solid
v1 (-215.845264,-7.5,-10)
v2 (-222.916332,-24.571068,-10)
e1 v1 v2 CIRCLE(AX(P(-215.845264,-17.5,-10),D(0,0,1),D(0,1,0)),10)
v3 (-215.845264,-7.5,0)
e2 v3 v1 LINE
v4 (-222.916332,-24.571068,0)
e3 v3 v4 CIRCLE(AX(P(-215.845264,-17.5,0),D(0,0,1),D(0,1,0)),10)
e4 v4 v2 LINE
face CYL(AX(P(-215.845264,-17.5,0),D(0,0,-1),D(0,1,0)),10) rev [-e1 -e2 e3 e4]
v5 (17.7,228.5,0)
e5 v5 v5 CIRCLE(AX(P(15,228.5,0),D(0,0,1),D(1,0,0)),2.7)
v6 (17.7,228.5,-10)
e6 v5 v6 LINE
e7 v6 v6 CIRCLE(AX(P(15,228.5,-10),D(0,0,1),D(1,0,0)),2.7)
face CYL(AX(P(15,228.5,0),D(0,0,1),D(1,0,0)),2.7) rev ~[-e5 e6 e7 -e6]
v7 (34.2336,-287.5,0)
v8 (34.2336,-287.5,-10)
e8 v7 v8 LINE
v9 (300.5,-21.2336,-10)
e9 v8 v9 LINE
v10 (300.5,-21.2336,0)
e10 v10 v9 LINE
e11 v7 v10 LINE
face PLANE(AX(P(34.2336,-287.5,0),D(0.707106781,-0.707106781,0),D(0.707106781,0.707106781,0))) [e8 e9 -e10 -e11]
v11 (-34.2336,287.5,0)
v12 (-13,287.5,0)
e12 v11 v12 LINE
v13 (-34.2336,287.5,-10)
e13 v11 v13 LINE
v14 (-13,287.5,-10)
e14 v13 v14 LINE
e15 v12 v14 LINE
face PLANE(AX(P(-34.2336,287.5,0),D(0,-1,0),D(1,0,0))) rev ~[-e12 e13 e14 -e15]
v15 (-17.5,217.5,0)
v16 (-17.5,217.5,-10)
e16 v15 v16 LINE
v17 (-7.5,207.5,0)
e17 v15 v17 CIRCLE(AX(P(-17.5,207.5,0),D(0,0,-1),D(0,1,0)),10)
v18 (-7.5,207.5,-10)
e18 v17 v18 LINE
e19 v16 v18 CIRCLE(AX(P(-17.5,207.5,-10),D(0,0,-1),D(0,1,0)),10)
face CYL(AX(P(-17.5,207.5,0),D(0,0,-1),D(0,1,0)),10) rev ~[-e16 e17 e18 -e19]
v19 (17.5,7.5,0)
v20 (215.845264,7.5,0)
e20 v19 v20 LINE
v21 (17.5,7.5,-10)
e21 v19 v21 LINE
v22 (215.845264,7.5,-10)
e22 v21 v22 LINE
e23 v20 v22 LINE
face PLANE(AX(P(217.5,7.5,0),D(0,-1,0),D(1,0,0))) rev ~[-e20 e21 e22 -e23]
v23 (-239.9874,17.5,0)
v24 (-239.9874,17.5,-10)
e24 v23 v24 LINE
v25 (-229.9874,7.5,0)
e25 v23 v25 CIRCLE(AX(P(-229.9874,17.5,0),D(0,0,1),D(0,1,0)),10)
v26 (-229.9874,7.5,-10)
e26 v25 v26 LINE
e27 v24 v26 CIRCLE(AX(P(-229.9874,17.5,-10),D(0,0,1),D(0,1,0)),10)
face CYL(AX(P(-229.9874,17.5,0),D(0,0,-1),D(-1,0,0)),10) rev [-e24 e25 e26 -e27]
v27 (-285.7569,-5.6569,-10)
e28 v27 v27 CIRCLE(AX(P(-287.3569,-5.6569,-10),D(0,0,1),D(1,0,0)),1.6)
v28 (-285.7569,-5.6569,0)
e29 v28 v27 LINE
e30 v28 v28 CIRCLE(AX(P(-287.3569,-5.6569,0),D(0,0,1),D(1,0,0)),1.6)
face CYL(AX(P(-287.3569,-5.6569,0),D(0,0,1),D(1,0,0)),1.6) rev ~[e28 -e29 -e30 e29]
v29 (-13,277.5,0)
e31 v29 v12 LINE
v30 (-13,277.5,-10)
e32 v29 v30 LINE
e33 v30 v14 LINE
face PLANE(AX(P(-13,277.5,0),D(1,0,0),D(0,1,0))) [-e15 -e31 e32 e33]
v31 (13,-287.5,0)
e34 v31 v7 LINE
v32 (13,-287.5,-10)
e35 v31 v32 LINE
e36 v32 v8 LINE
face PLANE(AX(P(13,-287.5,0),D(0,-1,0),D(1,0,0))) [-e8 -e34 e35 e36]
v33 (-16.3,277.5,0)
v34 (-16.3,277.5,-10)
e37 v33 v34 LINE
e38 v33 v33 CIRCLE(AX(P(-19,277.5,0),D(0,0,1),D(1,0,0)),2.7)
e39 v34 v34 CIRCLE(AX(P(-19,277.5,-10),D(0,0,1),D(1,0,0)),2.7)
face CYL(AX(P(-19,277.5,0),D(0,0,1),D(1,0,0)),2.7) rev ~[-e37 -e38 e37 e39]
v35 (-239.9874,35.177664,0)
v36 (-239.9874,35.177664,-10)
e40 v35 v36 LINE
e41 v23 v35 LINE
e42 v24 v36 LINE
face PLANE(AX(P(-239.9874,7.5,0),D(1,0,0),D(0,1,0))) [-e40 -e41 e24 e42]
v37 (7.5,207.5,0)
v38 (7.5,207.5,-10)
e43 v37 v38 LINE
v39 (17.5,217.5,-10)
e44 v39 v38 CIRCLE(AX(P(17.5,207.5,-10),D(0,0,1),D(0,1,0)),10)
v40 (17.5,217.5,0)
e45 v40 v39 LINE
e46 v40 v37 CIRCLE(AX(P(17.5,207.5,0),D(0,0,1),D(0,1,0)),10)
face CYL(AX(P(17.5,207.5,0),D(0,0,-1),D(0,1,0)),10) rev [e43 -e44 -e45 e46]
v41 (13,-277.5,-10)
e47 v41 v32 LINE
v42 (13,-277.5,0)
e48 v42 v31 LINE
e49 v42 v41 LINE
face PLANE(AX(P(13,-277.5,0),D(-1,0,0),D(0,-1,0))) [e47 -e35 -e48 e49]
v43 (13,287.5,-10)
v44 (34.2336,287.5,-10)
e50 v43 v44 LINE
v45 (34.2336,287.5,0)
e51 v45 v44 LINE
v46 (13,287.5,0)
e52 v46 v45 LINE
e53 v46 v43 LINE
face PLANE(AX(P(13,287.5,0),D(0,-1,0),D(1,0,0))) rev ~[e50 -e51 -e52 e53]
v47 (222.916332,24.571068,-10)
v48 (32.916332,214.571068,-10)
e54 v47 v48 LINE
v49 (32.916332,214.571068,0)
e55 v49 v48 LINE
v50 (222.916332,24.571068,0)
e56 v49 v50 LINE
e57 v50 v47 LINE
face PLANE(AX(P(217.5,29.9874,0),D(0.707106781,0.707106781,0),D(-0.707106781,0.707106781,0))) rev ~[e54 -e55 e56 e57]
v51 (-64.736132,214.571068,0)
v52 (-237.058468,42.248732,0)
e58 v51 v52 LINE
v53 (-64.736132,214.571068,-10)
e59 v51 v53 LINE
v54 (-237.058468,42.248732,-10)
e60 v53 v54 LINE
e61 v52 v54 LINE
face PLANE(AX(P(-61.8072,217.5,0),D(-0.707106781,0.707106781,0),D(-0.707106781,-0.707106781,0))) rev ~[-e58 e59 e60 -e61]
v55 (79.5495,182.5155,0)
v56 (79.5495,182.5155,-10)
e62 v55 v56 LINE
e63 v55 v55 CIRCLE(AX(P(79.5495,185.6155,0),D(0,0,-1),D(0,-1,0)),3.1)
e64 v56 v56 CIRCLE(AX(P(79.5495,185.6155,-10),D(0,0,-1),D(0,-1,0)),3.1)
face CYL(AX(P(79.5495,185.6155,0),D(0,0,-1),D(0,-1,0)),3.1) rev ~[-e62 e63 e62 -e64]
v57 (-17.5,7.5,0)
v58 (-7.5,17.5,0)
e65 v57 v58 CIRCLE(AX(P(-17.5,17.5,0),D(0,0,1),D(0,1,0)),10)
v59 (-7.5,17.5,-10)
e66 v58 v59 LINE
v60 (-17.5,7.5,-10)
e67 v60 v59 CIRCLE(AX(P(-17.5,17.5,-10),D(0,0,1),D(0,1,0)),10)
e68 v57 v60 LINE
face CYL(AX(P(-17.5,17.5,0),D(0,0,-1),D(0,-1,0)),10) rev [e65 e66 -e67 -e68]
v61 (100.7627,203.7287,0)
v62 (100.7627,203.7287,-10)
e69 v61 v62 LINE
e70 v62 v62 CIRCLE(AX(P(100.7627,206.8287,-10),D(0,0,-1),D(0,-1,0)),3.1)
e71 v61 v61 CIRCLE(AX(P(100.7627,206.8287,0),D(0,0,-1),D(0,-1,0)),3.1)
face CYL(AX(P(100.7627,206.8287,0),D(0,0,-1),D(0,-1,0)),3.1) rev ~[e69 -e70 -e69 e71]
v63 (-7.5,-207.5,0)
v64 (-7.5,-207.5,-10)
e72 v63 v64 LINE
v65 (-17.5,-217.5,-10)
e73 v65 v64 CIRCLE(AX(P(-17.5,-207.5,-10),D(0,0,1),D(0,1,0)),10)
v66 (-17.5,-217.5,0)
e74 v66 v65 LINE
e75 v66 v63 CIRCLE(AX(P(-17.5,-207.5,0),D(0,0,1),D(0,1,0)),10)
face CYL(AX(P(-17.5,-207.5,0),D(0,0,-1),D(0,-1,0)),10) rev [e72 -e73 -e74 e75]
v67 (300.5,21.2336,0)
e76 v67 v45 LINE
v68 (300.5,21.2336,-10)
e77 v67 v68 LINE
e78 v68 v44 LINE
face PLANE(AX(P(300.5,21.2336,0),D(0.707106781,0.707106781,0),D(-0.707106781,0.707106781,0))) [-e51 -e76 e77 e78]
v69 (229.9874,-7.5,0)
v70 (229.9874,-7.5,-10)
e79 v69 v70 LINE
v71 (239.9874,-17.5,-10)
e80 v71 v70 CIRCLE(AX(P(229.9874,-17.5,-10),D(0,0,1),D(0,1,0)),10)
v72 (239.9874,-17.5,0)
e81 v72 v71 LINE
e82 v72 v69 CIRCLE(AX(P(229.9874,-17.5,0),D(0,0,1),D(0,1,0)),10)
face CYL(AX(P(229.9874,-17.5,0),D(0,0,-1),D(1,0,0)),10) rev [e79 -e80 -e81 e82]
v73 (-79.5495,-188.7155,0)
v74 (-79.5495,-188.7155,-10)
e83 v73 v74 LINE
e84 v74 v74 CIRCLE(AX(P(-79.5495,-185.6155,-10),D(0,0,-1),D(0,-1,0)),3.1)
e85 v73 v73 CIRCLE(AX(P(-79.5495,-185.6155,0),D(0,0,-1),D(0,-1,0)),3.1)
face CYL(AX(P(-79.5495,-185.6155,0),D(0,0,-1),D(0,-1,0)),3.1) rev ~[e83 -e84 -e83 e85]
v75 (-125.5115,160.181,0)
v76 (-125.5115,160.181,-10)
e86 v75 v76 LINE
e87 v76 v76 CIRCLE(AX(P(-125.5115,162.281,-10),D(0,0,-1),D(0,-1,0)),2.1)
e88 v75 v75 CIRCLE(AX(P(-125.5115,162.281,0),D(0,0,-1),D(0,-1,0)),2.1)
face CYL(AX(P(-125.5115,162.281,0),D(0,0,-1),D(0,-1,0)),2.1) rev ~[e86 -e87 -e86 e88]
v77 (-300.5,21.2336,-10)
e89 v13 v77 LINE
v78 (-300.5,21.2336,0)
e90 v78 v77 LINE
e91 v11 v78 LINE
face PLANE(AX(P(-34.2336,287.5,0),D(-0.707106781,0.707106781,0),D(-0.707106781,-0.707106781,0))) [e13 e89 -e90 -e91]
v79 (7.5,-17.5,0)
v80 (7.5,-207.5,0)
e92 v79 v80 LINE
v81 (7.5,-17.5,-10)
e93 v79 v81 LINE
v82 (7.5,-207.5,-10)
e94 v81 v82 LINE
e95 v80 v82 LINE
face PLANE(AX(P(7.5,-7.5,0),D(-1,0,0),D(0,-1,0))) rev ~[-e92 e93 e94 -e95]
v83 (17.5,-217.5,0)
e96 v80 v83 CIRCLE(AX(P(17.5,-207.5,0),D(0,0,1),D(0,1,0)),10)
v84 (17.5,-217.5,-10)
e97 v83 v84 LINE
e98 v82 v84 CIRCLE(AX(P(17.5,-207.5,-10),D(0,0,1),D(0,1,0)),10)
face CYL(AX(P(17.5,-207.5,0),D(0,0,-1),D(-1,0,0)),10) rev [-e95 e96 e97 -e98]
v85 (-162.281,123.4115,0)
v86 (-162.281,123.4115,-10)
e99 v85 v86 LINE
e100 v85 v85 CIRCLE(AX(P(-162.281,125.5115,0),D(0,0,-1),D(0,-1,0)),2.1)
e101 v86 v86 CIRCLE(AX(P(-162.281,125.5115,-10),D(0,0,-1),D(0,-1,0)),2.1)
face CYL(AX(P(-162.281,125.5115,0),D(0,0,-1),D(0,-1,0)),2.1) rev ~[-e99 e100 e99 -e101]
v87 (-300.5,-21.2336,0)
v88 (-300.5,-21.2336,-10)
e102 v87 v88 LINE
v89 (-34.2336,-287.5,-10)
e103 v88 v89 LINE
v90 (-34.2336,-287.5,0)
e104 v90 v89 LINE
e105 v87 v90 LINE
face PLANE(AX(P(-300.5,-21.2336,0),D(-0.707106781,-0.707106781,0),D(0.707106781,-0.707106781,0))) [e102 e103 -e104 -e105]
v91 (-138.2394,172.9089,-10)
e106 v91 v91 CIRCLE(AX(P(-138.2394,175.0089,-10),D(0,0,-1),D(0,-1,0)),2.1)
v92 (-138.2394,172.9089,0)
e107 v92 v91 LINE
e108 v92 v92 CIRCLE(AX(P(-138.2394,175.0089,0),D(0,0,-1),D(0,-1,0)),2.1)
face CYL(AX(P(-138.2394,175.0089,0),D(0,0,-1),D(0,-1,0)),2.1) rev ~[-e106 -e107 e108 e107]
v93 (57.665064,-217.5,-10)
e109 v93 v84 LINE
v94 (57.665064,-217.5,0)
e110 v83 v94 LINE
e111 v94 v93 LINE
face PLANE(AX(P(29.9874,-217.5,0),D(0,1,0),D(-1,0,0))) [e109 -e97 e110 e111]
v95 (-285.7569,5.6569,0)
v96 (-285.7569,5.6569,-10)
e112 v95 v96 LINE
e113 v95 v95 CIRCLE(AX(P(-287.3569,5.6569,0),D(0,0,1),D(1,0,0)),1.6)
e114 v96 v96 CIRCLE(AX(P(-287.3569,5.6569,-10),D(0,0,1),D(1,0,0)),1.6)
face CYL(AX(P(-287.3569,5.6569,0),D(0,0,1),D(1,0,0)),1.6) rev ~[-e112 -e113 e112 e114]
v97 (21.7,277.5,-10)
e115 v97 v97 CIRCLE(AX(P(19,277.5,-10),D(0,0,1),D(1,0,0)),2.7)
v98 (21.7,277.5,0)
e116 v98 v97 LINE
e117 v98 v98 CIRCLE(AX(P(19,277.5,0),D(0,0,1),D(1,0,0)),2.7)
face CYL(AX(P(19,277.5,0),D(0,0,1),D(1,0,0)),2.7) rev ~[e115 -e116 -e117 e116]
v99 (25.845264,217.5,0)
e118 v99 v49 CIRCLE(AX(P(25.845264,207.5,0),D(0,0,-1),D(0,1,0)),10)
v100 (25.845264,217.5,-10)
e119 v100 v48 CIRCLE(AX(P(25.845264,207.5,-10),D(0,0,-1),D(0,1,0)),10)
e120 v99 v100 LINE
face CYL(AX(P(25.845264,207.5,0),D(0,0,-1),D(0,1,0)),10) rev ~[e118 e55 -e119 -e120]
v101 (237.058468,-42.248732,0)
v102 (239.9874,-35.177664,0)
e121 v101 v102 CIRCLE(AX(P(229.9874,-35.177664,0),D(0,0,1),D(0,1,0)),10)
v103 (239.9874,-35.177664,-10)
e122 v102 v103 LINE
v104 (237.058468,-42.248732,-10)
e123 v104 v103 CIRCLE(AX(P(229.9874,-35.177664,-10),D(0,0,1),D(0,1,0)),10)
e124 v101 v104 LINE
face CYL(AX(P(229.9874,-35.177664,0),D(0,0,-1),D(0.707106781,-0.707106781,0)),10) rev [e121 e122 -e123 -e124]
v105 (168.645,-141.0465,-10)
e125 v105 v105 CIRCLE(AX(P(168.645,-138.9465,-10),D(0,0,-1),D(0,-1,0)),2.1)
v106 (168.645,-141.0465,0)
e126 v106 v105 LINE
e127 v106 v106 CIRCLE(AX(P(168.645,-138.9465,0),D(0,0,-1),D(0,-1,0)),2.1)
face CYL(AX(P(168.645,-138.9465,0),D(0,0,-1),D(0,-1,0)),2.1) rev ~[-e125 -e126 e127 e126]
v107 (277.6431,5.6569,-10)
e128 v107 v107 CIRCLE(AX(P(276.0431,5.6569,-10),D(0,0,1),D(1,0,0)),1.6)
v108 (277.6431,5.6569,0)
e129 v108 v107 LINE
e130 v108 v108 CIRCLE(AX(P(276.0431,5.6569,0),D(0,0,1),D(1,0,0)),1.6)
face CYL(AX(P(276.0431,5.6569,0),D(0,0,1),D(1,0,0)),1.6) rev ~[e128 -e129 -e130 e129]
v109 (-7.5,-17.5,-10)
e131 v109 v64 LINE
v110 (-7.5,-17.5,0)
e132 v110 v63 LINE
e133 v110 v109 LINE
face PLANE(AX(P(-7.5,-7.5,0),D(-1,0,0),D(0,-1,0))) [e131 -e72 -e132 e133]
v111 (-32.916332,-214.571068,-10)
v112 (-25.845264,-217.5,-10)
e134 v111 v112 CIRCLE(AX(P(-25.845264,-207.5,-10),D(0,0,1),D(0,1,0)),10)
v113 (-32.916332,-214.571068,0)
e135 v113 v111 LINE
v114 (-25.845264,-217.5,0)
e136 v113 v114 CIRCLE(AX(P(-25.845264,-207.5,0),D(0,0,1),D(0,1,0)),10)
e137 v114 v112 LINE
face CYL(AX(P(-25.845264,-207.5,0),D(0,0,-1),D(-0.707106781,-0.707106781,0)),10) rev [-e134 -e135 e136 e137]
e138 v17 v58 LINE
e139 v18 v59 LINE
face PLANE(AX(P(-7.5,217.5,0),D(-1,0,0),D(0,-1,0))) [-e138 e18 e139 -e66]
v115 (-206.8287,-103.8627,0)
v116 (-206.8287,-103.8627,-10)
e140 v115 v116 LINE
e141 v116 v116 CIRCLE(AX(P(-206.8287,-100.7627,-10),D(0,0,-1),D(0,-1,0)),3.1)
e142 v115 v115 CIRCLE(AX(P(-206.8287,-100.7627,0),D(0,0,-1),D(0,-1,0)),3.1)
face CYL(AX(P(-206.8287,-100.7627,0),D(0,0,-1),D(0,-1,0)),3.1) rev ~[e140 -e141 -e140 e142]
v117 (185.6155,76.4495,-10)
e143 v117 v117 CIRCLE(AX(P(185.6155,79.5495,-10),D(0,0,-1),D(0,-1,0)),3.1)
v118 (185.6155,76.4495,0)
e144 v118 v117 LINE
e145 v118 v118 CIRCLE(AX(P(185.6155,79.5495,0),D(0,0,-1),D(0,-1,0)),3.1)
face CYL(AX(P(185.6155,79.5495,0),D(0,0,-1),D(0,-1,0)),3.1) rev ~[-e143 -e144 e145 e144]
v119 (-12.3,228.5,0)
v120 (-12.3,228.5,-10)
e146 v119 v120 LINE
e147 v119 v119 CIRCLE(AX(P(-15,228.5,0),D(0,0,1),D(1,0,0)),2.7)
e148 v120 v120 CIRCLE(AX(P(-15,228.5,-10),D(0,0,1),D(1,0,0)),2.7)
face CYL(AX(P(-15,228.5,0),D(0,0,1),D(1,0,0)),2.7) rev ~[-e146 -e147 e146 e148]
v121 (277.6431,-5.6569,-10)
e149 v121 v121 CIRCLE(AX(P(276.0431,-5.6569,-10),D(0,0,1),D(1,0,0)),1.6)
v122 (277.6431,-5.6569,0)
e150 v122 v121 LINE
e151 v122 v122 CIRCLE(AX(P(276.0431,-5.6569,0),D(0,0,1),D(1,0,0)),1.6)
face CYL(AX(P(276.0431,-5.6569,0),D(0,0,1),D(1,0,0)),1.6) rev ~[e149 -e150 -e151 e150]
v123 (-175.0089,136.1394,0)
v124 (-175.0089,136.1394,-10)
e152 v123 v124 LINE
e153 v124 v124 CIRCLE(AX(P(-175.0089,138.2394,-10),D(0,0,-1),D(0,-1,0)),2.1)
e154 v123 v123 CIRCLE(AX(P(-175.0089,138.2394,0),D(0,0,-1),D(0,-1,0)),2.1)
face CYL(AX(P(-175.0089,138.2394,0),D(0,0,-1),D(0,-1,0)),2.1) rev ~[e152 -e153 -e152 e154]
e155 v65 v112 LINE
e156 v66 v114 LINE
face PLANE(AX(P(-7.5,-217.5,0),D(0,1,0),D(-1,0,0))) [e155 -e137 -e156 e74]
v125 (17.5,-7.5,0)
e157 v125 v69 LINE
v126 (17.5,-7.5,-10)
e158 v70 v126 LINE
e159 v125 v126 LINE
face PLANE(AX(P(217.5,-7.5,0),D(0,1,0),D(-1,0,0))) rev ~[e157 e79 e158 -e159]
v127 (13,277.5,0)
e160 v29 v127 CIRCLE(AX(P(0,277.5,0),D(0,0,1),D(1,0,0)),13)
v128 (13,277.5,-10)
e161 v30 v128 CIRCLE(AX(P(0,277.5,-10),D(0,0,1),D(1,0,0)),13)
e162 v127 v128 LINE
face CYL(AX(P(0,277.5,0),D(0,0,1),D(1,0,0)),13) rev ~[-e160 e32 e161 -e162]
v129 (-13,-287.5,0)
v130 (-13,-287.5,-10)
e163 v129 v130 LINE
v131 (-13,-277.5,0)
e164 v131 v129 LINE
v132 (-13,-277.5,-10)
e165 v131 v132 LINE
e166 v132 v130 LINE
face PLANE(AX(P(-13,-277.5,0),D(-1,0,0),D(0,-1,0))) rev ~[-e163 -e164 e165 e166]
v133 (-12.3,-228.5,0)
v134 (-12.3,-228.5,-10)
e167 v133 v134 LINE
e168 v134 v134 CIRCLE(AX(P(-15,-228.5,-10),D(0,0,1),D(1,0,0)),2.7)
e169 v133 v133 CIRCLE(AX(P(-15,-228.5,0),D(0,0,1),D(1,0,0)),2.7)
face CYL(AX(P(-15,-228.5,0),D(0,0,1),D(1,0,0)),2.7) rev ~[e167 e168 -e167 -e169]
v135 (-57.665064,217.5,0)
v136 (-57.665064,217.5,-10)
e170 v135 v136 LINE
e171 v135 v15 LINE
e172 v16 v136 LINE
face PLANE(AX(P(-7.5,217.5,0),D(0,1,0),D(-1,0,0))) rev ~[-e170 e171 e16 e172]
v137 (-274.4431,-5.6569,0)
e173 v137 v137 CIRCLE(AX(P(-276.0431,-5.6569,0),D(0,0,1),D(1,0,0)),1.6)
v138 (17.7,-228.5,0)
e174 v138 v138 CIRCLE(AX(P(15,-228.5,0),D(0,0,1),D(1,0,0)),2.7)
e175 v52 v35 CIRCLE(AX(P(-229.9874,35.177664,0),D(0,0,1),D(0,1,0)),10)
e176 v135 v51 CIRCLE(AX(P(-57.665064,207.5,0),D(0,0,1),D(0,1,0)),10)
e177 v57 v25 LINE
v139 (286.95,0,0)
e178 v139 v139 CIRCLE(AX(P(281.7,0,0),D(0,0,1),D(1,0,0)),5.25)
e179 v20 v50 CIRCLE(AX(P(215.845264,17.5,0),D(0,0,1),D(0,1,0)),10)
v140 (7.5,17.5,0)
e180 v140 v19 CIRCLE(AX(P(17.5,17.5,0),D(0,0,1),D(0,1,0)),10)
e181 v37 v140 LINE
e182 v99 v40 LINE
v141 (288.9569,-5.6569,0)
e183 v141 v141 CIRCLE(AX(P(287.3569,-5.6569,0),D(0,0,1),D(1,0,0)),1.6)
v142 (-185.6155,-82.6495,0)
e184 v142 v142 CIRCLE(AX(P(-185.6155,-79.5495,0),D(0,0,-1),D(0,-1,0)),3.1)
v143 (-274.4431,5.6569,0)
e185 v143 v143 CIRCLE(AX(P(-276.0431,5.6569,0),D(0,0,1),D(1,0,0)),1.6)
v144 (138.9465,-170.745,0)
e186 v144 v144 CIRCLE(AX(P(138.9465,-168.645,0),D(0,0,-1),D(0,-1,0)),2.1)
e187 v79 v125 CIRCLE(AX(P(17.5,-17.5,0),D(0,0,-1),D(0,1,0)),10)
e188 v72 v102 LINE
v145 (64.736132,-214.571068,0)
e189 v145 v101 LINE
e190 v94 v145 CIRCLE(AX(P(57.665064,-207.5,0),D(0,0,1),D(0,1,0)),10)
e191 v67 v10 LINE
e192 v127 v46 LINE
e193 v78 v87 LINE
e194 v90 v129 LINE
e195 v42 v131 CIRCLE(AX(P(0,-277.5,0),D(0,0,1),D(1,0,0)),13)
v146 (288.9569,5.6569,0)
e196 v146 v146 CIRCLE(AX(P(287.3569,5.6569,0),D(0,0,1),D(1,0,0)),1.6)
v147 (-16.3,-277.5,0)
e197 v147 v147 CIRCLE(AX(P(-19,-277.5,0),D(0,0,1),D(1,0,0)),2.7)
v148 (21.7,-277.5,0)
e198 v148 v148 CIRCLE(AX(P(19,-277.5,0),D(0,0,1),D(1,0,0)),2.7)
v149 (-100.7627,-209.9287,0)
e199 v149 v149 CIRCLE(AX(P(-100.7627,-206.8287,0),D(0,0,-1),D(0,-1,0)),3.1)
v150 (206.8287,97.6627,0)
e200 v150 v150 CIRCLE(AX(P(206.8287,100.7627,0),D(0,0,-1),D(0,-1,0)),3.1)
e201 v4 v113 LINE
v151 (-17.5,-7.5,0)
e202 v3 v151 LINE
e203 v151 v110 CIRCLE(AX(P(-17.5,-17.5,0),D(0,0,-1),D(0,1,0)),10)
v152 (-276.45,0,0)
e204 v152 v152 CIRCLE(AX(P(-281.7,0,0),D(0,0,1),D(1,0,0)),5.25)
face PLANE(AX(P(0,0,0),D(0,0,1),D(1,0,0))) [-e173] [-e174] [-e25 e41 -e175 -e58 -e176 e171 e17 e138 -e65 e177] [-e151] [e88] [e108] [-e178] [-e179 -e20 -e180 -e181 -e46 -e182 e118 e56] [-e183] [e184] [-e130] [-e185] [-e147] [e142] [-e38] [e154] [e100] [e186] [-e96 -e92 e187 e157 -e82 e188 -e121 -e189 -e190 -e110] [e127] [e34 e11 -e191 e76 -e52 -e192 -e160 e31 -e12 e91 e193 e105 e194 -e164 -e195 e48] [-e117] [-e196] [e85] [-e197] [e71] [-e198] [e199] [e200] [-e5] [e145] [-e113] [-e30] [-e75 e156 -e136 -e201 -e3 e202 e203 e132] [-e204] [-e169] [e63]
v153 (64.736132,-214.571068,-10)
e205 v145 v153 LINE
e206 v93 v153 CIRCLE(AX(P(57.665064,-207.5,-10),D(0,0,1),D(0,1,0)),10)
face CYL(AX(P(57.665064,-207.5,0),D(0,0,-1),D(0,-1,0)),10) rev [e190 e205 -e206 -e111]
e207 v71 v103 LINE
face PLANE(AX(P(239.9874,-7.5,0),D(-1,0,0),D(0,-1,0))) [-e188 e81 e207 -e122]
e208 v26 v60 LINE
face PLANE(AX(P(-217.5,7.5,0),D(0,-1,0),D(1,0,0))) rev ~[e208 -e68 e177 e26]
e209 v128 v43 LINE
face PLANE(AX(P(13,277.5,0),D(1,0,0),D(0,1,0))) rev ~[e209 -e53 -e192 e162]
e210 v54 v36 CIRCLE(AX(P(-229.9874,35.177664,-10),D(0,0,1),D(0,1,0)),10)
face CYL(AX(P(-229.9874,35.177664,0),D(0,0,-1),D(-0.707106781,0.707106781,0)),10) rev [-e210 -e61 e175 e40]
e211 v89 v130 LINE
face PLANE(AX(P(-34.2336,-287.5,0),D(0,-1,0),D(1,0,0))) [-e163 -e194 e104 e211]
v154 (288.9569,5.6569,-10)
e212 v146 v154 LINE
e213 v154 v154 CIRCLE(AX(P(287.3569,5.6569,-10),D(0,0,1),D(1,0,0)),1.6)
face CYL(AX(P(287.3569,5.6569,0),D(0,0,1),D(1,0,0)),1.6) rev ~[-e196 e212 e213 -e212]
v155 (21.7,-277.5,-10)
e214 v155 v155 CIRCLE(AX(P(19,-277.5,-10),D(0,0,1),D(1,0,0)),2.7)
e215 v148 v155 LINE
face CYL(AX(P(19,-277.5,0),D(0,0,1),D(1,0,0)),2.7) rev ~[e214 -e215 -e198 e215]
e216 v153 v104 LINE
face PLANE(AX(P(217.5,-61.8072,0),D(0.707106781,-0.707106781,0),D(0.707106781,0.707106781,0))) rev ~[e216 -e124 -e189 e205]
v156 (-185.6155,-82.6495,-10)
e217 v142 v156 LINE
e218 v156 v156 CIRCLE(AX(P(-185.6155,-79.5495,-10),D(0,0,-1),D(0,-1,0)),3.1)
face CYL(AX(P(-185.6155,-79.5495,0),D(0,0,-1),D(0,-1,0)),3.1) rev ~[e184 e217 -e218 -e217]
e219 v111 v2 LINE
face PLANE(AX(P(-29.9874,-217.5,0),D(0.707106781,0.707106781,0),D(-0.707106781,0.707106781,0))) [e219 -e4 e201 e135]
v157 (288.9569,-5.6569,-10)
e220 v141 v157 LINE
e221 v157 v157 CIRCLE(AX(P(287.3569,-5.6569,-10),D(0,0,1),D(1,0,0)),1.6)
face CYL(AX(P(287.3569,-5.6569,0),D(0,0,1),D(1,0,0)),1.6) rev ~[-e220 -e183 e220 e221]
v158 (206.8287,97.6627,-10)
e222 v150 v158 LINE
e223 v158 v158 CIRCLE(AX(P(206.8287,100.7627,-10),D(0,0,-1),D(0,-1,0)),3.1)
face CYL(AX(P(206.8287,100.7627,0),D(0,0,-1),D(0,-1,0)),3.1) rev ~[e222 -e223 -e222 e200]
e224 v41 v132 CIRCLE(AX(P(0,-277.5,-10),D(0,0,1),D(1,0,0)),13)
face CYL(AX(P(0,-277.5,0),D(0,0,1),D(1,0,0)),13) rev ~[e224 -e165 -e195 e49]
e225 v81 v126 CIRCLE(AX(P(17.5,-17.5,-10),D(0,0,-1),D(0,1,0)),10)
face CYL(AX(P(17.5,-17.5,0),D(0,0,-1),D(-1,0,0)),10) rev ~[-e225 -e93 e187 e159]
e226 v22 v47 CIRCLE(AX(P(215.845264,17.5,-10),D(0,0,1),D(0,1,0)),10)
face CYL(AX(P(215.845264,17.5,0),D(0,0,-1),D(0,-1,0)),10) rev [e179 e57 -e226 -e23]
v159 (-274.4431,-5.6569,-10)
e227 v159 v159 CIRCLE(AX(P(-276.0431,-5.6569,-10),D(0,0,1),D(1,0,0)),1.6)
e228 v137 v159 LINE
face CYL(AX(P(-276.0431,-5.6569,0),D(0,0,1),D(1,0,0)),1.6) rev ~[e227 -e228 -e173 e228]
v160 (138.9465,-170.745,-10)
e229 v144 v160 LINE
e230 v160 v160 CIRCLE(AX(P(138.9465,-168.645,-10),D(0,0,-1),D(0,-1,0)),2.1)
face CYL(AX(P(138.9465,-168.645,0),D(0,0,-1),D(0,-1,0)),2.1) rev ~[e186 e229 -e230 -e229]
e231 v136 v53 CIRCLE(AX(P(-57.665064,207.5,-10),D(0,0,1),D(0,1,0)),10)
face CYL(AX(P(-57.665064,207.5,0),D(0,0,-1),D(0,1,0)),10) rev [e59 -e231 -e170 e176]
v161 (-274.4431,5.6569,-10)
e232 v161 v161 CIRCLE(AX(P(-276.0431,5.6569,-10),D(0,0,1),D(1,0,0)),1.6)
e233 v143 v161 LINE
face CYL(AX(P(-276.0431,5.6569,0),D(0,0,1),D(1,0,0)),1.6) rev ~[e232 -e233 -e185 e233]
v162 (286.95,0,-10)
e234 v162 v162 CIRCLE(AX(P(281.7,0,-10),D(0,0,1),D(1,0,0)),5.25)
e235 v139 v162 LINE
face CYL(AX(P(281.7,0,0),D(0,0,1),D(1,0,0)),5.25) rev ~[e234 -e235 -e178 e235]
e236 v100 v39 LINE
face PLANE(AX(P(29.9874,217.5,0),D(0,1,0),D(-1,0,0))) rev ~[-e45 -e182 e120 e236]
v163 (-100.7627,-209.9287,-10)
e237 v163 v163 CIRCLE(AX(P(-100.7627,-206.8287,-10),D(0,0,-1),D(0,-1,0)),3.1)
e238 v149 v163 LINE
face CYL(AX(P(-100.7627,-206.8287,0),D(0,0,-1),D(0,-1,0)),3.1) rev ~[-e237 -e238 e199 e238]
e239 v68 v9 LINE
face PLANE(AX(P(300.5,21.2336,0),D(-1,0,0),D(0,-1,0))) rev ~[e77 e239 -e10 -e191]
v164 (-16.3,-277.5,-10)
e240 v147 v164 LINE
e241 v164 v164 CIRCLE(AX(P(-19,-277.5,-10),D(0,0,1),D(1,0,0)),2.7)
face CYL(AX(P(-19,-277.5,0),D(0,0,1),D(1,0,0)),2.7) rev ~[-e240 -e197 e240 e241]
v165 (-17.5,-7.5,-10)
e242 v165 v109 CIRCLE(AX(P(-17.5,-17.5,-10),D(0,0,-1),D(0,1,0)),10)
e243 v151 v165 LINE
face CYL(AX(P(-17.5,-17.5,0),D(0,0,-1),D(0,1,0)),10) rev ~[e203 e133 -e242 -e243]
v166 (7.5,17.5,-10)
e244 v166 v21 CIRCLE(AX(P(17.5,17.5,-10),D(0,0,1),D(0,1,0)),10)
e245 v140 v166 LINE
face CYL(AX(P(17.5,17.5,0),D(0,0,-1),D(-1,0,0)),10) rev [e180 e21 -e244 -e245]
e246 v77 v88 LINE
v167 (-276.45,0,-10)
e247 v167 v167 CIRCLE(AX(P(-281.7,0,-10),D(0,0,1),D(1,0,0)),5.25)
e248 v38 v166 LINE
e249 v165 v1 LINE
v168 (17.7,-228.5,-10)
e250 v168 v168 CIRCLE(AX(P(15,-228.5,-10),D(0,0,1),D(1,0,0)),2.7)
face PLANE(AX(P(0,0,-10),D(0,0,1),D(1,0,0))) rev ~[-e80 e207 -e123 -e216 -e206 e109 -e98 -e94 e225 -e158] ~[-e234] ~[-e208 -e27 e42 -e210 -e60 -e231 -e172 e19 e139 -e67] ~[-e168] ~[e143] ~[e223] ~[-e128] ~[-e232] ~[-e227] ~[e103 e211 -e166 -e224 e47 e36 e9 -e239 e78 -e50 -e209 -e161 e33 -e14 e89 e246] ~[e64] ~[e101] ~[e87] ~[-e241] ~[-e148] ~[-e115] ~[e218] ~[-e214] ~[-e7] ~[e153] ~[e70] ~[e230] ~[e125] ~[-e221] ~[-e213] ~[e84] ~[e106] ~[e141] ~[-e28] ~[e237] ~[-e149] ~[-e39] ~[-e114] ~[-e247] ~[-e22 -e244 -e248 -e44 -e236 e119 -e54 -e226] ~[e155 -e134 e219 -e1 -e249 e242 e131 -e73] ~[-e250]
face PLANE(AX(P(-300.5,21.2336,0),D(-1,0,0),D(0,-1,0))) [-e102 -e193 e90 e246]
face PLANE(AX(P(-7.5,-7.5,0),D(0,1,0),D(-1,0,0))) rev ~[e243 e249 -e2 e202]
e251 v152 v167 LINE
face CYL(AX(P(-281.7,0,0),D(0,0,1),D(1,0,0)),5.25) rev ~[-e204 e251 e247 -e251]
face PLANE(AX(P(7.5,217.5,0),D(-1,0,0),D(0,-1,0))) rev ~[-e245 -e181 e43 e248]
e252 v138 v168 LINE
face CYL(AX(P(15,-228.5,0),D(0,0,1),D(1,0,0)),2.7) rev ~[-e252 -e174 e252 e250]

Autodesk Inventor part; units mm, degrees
ref_plane "YZ Plane" through (0, 0, 0) normal (1, 0, 0) x (0, 1, 0)
ref_plane "XZ Plane" through (0, 0, 0) normal (0, 1, 0) x (-1, 0, 0)
sketch "Sketch2" plane through (0, 0, 0) normal (0, 0, 1) x (1, 0, 0)
  circle A0 centre (0, 277.5) radius 8 construction
  circle A1 centre (0, 277.5) radius 13
  circle A2 centre (0, 277.5) radius 10.5 construction
  line L0 (25, 287.5) -> (-25, 287.5) construction
  line L1 (-25, 287.5) -> (-25, 222.5) construction
  line L2 (-25, 222.5) -> (25, 222.5) construction
  line L3 (25, 222.5) -> (25, 287.5) construction
  circle A3 centre (15, 228.5) radius 2.7
  circle A4 centre (-15, 228.5) radius 2.7
  circle A5 centre (-19, 277.5) radius 2.7
  circle A6 centre (19, 277.5) radius 2.7
  circle A7 centre (0, -277.5) radius 8 construction
  circle A8 centre (0, -277.5) radius 13
  circle A9 centre (0, -277.5) radius 10.5 construction
  line L4 (25, -287.5) -> (-25, -287.5) construction
  line L5 (-25, -287.5) -> (-25, -222.5) construction
  line L6 (-25, -222.5) -> (25, -222.5) construction
  line L7 (25, -222.5) -> (25, -287.5) construction
  circle A10 centre (-15, -228.5) radius 2.7
  circle A11 centre (15, -228.5) radius 2.7
  circle A12 centre (-19, -277.5) radius 2.7
  circle A13 centre (19, -277.5) radius 2.7
  line L8 (10.5, -277.5) -> (10.5, -287.5) construction
  line L9 (-10.5, -277.5) -> (-10.5, -287.5) construction
  line L10 (10.5, 277.5) -> (10.5, 287.5) construction
  line L11 (-10.5, 277.5) -> (-10.5, 287.5) construction
  circle A14 centre (281.7, 0) radius 5.25
  circle A15 centre (-281.7, 0) radius 5.25
  line L12 (0, -321.7336) -> (321.7336, 0)
  line L13 (321.7336, 0) -> (0, 321.7336)
  line L14 (0, 321.7336) -> (-321.7336, 0)
  line L15 (-321.7336, 0) -> (0, -321.7336)
  line L16 (321.7336, 0) -> (-321.7336, 0) construction
  line L17 (0, -321.7336) -> (455, -321.7336) construction
  line L18 (300.5, 21.2336) -> (300.5, -21.2336)
  line L19 (-300.5, 21.2336) -> (-300.5, -21.2336)
  line L20 (-24.2336, 297.5) -> (24.2336, 297.5) construction
  line L21 (-34.2336, 287.5) -> (34.2336, 287.5)
  line L22 (-24.2336, -297.5) -> (24.2336, -297.5) construction
  line L23 (-34.2336, -287.5) -> (34.2336, -287.5)
  line L24 (-9.5, 297.5) -> (-3.976, 284.442) construction
  line L25 (9.5, 297.5) -> (3.976, 284.442) construction
  line L26 (-14.929, 297.5) -> (-9.9883, 285.8207)
  line L27 (14.929, 297.5) -> (9.9883, 285.8207)
  line L28 (-9.5, -297.5) -> (-3.976, -284.442) construction
  line L29 (9.5, -297.5) -> (3.976, -284.442) construction
  line L30 (14.929, -297.5) -> (9.9883, -285.8207)
  line L31 (-14.929, -297.5) -> (-9.9883, -285.8207)
  line L32 (13, 277.5) -> (13, 287.5)
  line L33 (-13, 277.5) -> (-13, 287.5)
  line L34 (-13, -277.5) -> (-13, -287.5)
  line L35 (13, -277.5) -> (13, -287.5)
  line L36 (281.7, 0) -> (287.3569, 5.6569) construction
  line L37 (281.7, 0) -> (289.7, 0) construction
  circle A16 centre (287.3569, 5.6569) radius 1.6
  circle A17 centre (276.0431, 5.6569) radius 1.6
  circle A18 centre (276.0431, -5.6569) radius 1.6
  circle A19 centre (287.3569, -5.6569) radius 1.6
  line L38 (-281.7, 0) -> (-287.3569, 5.6569) construction
  circle A20 centre (-287.3569, 5.6569) radius 1.6
  circle A21 centre (-287.3569, -5.6569) radius 1.6
  circle A22 centre (-276.0431, -5.6569) radius 1.6
  circle A23 centre (-276.0431, 5.6569) radius 1.6
  line L39 (0, -321.7336) -> (0, 321.7336) construction
  point P0 (0, 0)
  point P1 (-10.6987, -287.5)
  point P2 (10.6987, -287.5)
  point P3 (10.6987, 287.5)
  point P4 (-10.6987, 287.5)
  point P5 (300.5, 292.5)
  point P6 (300.5, -292.5)
  point P7 (-300.5, -292.5)
  point P8 (-300.5, 292.5)
  dimension "d256" = 16
  dimension "d258" = 277.5
  dimension "d259" = 26
  dimension "d260" = 21
  dimension "d262" = 10
  dimension "d263" = 65
  dimension "d271" = 6
  dimension "d272" = 10
  dimension "d275" = 6
  dimension "d276" = 10
  dimension "d285" = 10
  dimension "d300" = 10.5
  dimension "d302" = 281.7
  dimension "d321" = 45
  dimension "d322" = 455
  dimension "d323" = 18.8
  dimension "d325" = 20
  dimension "d330" = 67.07
  dimension "d331" = 9.5
  dimension "d336" = 14.929
  dimension "d391" = 8
  dimension "d392" = 45
  dimension "d394" = 3.2
  dimension "d397" = 360
  dimension "d399" = 8
  dimension "d400" = 45
  dimension "d404" = 360
  dimension "d432" = 5.4
  dimension "d433" = 50
  dimension "d483" = 10
ref_plane "Work Plane1" through (0, 0, 0) normal (0, 0, 1) x (1, 0, 0)
sketch "Sketch3" plane through (0, 0, 0) normal (0, 0, 1) x (1, 0, 0)
  line L0 (-160.8668, -160.8668) -> (160.8668, 160.8668) construction
  line L1 (-160.8668, -160.8668) -> (294.1332, -160.8668) construction
  line L2 (279.5102, 35.1523) -> (35.1523, 279.5102) construction
  line L3 (35.1523, 279.5102) -> (6.8681, 251.2259) construction
  line L4 (6.8681, 251.2259) -> (251.2259, 6.8681) construction
  line L5 (251.2259, 6.8681) -> (279.5102, 35.1523) construction
  circle A0 centre (19, 277.5) radius 2.7 projected
  circle A1 centre (15, 228.5) radius 2.7 projected
  line L6 (-35.1523, -279.5102) -> (-279.5102, -35.1523) construction
  line L7 (-279.5102, -35.1523) -> (-251.2259, -6.8681) construction
  line L8 (-251.2259, -6.8681) -> (-6.8681, -251.2259) construction
  line L9 (-6.8681, -251.2259) -> (-35.1523, -279.5102) construction
  circle A2 centre (-79.5495, -185.6155) radius 3.1
  circle A3 centre (-100.7627, -206.8287) radius 3.1
  circle A4 centre (-185.6155, -79.5495) radius 3.1
  circle A5 centre (-206.8287, -100.7627) radius 3.1
  line L10 (-160.8668, 160.8668) -> (160.8668, -160.8668) construction
  circle A6 centre (206.8287, 100.7627) radius 3.1
  circle A7 centre (185.6155, 79.5495) radius 3.1
  circle A8 centre (100.7627, 206.8287) radius 3.1
  circle A9 centre (79.5495, 185.6155) radius 3.1
  line L11 (-175.0089, 138.2394) -> (-138.2394, 175.0089) construction
  line L12 (-138.2394, 175.0089) -> (-125.5115, 162.281) construction
  line L13 (-125.5115, 162.281) -> (-162.281, 125.5115) construction
  line L14 (-162.281, 125.5115) -> (-175.0089, 138.2394) construction
  circle A10 centre (-138.2394, 175.0089) radius 2.1
  circle A11 centre (-125.5115, 162.281) radius 2.1
  circle A12 centre (-162.281, 125.5115) radius 2.1
  circle A13 centre (-175.0089, 138.2394) radius 2.1
  line L15 (-162.281, 125.5115) -> (-138.2394, 175.0089) construction
  line L16 (-175.0089, 138.2394) -> (-125.5115, 162.281) construction
  line L17 (138.9465, -168.645) -> (168.645, -138.9465) construction
  circle A14 centre (168.645, -138.9465) radius 2.1
  circle A15 centre (138.9465, -168.645) radius 2.1
  line L18 (21.0102, 265.3681) -> (265.3681, 21.0102) construction
  line L19 (-265.3681, -21.0102) -> (-21.0102, -265.3681) construction
  point P0 (0, 0)
  point P1 (-150.2602, 150.2602)
  point P2 (153.7957, -153.7957)
  dimension "d349" = 455
  dimension "d350" = 45
  dimension "d353" = 40
  dimension "d354" = 10
  dimension "d362" = 75
  dimension "d363" = 5
  dimension "d365" = 5
  dimension "d366" = 75
  dimension "d370" = 5
  dimension "d371" = 75
  dimension "d373" = 5
  dimension "d374" = 75
  dimension "d436" = 52
  dimension "d437" = 18
  dimension "d438" = 221.5
  dimension "d439" = 4.2
  dimension "d440" = 42
  dimension "d442" = 217.5
  dimension "d450" = 6.2
  dimension "d482" = 405
extrude "Extrusion12" add sketch "Sketch2" against normal blind 10 contours L32 L21 L13 L18 L12 L23 L35 A8 L34 L15 L19 L14 L33 A1
hole "Hole2" at (100.7627, 206.8287, 0) at (79.5495, 185.6155, 0) at (206.8287, 100.7627, 0) at (185.6155, 79.5495, 0) at (-79.5495, -185.6155, 0) at (-100.7627, -206.8287, 0) at (-185.6155, -79.5495, 0) at (-206.8287, -100.7627, 0) direction (0, 0, -1) diameter 6.2 end through all
hole "Hole4" at (-175.0089, 138.2394, 0) at (-162.281, 125.5115, 0) at (-125.5115, 162.281, 0) at (-138.2394, 175.0089, 0) at (168.645, -138.9465, 0) at (138.9465, -168.645, 0) direction (0, 0, -1) diameter 4.2 end through all
sketch "Sketch5" plane through (0, 0, 0) normal (0, 0, 1) x (1, 0, 0)
  line L0 (29.9874, 217.5) -> (-61.8072, 217.5)
  line L1 (139.6536, -139.6536) -> (-139.6536, 139.6536) construction
  line L2 (-29.9874, -217.5) -> (-263.3973, 15.9099)
  line L3 (61.8072, -217.5) -> (-29.9874, -217.5)
  line L4 (247.4874, 0) -> (-247.4874, 0) construction
  line L5 (-61.8072, 217.5) -> (-263.3973, 15.9099)
  line L6 (61.8072, -217.5) -> (263.3973, -15.9099)
  line L7 (0, -217.5) -> (0, 217.5) construction
  line L8 (263.3973, -15.9099) -> (29.9874, 217.5)
  line L9 (-123.7437, -123.7437) -> (123.7437, 123.7437) construction
  line L10 (-217.5, 61.8072) -> (-217.5, -29.9874)
  line L11 (217.5, 29.9874) -> (217.5, -61.8072)
  line L12 (-247.4874, 0) -> (-29.9874, 217.5)
  line L13 (247.4874, 0) -> (29.9874, -217.5)
  line L14 (-7.5, 217.5) -> (-7.5, -217.5)
  line L15 (7.5, 217.5) -> (7.5, -217.5)
  line L16 (-239.9874, 7.5) -> (239.9874, 7.5)
  line L17 (239.9874, -7.5) -> (-239.9874, -7.5)
  line L18 (-239.9874, -7.5) -> (-239.9874, 39.3198)
  line L19 (239.9874, 7.5) -> (239.9874, -39.3198)
  point P0 (0, 0)
  point P1 (-7.5, -7.5)
  point P2 (7.5, -7.5)
  point P3 (-7.5, 7.5)
  point P4 (7.5, 7.5)
  point P5 (217.5, -29.9874)
  point P6 (-217.5, 29.9874)
  dimension "d460" = 197.5
  dimension "d461" = 197.5
  dimension "d465" = 175
  dimension "d466" = 217.5
  dimension "d467" = 45
  dimension "d468" = 217.5
  dimension "d469" = 175
  dimension "d473" = 15
  dimension "d475" = 15
extrude "Extrusion15" cut sketch "Sketch5" against normal blind 217.5 contours L8 L11 L16 L15 L0 | L8 L16 L11 | L14 L16 L10 L12 L0 | L12 L10 L5 L0 | L17 L11 L13 L3 L15 | L19 L6 L11 L13 | L13 L11 L17 | L12 L18 L5 L10 | L10 L16 L12 | L14 L3 L2 L10 L17 | L11 L6 L3 L13 | L10 L2 L17
fillet "Fillet2" radius 10 18 edges at (-61.8072, 217.5, -5) (29.9874, 217.5, -5) (-7.5, 217.5, -5) (239.9874, -7.5, -5) (-7.5, -7.5, -5) (239.9874, -39.3198, -5) (61.8072, -217.5, -5) (-7.5, -217.5, -5) (-7.5, 7.5, -5) (-29.9874, -217.5, -5) (7.5, 7.5, -5) (-239.9874, 7.5, -5) (-239.9874, 39.3198, -5) (7.5, -7.5, -5) (7.5, 217.5, -5) (7.5, -217.5, -5) (239.9874, 7.5, -5) (-239.9874, -7.5, -5)
equation "\"dist_rails\" = 555"
equation "\"dist_leadscrews\" = 563.4"
equation "\"diam_leadscrew_hole\" = 10.5"
equation "\"z_plate_width\" = 455"
equation "\"delta\" = 5"
equation "\"rail_angle\" = 67.07deg"
equation "\"rail_D\" = 9.5"
equation "\"rail_diam\" = 16"
equation "\"rail_dist\" = 405"
properties part number "z_plate" material "Aluminum 6061"
